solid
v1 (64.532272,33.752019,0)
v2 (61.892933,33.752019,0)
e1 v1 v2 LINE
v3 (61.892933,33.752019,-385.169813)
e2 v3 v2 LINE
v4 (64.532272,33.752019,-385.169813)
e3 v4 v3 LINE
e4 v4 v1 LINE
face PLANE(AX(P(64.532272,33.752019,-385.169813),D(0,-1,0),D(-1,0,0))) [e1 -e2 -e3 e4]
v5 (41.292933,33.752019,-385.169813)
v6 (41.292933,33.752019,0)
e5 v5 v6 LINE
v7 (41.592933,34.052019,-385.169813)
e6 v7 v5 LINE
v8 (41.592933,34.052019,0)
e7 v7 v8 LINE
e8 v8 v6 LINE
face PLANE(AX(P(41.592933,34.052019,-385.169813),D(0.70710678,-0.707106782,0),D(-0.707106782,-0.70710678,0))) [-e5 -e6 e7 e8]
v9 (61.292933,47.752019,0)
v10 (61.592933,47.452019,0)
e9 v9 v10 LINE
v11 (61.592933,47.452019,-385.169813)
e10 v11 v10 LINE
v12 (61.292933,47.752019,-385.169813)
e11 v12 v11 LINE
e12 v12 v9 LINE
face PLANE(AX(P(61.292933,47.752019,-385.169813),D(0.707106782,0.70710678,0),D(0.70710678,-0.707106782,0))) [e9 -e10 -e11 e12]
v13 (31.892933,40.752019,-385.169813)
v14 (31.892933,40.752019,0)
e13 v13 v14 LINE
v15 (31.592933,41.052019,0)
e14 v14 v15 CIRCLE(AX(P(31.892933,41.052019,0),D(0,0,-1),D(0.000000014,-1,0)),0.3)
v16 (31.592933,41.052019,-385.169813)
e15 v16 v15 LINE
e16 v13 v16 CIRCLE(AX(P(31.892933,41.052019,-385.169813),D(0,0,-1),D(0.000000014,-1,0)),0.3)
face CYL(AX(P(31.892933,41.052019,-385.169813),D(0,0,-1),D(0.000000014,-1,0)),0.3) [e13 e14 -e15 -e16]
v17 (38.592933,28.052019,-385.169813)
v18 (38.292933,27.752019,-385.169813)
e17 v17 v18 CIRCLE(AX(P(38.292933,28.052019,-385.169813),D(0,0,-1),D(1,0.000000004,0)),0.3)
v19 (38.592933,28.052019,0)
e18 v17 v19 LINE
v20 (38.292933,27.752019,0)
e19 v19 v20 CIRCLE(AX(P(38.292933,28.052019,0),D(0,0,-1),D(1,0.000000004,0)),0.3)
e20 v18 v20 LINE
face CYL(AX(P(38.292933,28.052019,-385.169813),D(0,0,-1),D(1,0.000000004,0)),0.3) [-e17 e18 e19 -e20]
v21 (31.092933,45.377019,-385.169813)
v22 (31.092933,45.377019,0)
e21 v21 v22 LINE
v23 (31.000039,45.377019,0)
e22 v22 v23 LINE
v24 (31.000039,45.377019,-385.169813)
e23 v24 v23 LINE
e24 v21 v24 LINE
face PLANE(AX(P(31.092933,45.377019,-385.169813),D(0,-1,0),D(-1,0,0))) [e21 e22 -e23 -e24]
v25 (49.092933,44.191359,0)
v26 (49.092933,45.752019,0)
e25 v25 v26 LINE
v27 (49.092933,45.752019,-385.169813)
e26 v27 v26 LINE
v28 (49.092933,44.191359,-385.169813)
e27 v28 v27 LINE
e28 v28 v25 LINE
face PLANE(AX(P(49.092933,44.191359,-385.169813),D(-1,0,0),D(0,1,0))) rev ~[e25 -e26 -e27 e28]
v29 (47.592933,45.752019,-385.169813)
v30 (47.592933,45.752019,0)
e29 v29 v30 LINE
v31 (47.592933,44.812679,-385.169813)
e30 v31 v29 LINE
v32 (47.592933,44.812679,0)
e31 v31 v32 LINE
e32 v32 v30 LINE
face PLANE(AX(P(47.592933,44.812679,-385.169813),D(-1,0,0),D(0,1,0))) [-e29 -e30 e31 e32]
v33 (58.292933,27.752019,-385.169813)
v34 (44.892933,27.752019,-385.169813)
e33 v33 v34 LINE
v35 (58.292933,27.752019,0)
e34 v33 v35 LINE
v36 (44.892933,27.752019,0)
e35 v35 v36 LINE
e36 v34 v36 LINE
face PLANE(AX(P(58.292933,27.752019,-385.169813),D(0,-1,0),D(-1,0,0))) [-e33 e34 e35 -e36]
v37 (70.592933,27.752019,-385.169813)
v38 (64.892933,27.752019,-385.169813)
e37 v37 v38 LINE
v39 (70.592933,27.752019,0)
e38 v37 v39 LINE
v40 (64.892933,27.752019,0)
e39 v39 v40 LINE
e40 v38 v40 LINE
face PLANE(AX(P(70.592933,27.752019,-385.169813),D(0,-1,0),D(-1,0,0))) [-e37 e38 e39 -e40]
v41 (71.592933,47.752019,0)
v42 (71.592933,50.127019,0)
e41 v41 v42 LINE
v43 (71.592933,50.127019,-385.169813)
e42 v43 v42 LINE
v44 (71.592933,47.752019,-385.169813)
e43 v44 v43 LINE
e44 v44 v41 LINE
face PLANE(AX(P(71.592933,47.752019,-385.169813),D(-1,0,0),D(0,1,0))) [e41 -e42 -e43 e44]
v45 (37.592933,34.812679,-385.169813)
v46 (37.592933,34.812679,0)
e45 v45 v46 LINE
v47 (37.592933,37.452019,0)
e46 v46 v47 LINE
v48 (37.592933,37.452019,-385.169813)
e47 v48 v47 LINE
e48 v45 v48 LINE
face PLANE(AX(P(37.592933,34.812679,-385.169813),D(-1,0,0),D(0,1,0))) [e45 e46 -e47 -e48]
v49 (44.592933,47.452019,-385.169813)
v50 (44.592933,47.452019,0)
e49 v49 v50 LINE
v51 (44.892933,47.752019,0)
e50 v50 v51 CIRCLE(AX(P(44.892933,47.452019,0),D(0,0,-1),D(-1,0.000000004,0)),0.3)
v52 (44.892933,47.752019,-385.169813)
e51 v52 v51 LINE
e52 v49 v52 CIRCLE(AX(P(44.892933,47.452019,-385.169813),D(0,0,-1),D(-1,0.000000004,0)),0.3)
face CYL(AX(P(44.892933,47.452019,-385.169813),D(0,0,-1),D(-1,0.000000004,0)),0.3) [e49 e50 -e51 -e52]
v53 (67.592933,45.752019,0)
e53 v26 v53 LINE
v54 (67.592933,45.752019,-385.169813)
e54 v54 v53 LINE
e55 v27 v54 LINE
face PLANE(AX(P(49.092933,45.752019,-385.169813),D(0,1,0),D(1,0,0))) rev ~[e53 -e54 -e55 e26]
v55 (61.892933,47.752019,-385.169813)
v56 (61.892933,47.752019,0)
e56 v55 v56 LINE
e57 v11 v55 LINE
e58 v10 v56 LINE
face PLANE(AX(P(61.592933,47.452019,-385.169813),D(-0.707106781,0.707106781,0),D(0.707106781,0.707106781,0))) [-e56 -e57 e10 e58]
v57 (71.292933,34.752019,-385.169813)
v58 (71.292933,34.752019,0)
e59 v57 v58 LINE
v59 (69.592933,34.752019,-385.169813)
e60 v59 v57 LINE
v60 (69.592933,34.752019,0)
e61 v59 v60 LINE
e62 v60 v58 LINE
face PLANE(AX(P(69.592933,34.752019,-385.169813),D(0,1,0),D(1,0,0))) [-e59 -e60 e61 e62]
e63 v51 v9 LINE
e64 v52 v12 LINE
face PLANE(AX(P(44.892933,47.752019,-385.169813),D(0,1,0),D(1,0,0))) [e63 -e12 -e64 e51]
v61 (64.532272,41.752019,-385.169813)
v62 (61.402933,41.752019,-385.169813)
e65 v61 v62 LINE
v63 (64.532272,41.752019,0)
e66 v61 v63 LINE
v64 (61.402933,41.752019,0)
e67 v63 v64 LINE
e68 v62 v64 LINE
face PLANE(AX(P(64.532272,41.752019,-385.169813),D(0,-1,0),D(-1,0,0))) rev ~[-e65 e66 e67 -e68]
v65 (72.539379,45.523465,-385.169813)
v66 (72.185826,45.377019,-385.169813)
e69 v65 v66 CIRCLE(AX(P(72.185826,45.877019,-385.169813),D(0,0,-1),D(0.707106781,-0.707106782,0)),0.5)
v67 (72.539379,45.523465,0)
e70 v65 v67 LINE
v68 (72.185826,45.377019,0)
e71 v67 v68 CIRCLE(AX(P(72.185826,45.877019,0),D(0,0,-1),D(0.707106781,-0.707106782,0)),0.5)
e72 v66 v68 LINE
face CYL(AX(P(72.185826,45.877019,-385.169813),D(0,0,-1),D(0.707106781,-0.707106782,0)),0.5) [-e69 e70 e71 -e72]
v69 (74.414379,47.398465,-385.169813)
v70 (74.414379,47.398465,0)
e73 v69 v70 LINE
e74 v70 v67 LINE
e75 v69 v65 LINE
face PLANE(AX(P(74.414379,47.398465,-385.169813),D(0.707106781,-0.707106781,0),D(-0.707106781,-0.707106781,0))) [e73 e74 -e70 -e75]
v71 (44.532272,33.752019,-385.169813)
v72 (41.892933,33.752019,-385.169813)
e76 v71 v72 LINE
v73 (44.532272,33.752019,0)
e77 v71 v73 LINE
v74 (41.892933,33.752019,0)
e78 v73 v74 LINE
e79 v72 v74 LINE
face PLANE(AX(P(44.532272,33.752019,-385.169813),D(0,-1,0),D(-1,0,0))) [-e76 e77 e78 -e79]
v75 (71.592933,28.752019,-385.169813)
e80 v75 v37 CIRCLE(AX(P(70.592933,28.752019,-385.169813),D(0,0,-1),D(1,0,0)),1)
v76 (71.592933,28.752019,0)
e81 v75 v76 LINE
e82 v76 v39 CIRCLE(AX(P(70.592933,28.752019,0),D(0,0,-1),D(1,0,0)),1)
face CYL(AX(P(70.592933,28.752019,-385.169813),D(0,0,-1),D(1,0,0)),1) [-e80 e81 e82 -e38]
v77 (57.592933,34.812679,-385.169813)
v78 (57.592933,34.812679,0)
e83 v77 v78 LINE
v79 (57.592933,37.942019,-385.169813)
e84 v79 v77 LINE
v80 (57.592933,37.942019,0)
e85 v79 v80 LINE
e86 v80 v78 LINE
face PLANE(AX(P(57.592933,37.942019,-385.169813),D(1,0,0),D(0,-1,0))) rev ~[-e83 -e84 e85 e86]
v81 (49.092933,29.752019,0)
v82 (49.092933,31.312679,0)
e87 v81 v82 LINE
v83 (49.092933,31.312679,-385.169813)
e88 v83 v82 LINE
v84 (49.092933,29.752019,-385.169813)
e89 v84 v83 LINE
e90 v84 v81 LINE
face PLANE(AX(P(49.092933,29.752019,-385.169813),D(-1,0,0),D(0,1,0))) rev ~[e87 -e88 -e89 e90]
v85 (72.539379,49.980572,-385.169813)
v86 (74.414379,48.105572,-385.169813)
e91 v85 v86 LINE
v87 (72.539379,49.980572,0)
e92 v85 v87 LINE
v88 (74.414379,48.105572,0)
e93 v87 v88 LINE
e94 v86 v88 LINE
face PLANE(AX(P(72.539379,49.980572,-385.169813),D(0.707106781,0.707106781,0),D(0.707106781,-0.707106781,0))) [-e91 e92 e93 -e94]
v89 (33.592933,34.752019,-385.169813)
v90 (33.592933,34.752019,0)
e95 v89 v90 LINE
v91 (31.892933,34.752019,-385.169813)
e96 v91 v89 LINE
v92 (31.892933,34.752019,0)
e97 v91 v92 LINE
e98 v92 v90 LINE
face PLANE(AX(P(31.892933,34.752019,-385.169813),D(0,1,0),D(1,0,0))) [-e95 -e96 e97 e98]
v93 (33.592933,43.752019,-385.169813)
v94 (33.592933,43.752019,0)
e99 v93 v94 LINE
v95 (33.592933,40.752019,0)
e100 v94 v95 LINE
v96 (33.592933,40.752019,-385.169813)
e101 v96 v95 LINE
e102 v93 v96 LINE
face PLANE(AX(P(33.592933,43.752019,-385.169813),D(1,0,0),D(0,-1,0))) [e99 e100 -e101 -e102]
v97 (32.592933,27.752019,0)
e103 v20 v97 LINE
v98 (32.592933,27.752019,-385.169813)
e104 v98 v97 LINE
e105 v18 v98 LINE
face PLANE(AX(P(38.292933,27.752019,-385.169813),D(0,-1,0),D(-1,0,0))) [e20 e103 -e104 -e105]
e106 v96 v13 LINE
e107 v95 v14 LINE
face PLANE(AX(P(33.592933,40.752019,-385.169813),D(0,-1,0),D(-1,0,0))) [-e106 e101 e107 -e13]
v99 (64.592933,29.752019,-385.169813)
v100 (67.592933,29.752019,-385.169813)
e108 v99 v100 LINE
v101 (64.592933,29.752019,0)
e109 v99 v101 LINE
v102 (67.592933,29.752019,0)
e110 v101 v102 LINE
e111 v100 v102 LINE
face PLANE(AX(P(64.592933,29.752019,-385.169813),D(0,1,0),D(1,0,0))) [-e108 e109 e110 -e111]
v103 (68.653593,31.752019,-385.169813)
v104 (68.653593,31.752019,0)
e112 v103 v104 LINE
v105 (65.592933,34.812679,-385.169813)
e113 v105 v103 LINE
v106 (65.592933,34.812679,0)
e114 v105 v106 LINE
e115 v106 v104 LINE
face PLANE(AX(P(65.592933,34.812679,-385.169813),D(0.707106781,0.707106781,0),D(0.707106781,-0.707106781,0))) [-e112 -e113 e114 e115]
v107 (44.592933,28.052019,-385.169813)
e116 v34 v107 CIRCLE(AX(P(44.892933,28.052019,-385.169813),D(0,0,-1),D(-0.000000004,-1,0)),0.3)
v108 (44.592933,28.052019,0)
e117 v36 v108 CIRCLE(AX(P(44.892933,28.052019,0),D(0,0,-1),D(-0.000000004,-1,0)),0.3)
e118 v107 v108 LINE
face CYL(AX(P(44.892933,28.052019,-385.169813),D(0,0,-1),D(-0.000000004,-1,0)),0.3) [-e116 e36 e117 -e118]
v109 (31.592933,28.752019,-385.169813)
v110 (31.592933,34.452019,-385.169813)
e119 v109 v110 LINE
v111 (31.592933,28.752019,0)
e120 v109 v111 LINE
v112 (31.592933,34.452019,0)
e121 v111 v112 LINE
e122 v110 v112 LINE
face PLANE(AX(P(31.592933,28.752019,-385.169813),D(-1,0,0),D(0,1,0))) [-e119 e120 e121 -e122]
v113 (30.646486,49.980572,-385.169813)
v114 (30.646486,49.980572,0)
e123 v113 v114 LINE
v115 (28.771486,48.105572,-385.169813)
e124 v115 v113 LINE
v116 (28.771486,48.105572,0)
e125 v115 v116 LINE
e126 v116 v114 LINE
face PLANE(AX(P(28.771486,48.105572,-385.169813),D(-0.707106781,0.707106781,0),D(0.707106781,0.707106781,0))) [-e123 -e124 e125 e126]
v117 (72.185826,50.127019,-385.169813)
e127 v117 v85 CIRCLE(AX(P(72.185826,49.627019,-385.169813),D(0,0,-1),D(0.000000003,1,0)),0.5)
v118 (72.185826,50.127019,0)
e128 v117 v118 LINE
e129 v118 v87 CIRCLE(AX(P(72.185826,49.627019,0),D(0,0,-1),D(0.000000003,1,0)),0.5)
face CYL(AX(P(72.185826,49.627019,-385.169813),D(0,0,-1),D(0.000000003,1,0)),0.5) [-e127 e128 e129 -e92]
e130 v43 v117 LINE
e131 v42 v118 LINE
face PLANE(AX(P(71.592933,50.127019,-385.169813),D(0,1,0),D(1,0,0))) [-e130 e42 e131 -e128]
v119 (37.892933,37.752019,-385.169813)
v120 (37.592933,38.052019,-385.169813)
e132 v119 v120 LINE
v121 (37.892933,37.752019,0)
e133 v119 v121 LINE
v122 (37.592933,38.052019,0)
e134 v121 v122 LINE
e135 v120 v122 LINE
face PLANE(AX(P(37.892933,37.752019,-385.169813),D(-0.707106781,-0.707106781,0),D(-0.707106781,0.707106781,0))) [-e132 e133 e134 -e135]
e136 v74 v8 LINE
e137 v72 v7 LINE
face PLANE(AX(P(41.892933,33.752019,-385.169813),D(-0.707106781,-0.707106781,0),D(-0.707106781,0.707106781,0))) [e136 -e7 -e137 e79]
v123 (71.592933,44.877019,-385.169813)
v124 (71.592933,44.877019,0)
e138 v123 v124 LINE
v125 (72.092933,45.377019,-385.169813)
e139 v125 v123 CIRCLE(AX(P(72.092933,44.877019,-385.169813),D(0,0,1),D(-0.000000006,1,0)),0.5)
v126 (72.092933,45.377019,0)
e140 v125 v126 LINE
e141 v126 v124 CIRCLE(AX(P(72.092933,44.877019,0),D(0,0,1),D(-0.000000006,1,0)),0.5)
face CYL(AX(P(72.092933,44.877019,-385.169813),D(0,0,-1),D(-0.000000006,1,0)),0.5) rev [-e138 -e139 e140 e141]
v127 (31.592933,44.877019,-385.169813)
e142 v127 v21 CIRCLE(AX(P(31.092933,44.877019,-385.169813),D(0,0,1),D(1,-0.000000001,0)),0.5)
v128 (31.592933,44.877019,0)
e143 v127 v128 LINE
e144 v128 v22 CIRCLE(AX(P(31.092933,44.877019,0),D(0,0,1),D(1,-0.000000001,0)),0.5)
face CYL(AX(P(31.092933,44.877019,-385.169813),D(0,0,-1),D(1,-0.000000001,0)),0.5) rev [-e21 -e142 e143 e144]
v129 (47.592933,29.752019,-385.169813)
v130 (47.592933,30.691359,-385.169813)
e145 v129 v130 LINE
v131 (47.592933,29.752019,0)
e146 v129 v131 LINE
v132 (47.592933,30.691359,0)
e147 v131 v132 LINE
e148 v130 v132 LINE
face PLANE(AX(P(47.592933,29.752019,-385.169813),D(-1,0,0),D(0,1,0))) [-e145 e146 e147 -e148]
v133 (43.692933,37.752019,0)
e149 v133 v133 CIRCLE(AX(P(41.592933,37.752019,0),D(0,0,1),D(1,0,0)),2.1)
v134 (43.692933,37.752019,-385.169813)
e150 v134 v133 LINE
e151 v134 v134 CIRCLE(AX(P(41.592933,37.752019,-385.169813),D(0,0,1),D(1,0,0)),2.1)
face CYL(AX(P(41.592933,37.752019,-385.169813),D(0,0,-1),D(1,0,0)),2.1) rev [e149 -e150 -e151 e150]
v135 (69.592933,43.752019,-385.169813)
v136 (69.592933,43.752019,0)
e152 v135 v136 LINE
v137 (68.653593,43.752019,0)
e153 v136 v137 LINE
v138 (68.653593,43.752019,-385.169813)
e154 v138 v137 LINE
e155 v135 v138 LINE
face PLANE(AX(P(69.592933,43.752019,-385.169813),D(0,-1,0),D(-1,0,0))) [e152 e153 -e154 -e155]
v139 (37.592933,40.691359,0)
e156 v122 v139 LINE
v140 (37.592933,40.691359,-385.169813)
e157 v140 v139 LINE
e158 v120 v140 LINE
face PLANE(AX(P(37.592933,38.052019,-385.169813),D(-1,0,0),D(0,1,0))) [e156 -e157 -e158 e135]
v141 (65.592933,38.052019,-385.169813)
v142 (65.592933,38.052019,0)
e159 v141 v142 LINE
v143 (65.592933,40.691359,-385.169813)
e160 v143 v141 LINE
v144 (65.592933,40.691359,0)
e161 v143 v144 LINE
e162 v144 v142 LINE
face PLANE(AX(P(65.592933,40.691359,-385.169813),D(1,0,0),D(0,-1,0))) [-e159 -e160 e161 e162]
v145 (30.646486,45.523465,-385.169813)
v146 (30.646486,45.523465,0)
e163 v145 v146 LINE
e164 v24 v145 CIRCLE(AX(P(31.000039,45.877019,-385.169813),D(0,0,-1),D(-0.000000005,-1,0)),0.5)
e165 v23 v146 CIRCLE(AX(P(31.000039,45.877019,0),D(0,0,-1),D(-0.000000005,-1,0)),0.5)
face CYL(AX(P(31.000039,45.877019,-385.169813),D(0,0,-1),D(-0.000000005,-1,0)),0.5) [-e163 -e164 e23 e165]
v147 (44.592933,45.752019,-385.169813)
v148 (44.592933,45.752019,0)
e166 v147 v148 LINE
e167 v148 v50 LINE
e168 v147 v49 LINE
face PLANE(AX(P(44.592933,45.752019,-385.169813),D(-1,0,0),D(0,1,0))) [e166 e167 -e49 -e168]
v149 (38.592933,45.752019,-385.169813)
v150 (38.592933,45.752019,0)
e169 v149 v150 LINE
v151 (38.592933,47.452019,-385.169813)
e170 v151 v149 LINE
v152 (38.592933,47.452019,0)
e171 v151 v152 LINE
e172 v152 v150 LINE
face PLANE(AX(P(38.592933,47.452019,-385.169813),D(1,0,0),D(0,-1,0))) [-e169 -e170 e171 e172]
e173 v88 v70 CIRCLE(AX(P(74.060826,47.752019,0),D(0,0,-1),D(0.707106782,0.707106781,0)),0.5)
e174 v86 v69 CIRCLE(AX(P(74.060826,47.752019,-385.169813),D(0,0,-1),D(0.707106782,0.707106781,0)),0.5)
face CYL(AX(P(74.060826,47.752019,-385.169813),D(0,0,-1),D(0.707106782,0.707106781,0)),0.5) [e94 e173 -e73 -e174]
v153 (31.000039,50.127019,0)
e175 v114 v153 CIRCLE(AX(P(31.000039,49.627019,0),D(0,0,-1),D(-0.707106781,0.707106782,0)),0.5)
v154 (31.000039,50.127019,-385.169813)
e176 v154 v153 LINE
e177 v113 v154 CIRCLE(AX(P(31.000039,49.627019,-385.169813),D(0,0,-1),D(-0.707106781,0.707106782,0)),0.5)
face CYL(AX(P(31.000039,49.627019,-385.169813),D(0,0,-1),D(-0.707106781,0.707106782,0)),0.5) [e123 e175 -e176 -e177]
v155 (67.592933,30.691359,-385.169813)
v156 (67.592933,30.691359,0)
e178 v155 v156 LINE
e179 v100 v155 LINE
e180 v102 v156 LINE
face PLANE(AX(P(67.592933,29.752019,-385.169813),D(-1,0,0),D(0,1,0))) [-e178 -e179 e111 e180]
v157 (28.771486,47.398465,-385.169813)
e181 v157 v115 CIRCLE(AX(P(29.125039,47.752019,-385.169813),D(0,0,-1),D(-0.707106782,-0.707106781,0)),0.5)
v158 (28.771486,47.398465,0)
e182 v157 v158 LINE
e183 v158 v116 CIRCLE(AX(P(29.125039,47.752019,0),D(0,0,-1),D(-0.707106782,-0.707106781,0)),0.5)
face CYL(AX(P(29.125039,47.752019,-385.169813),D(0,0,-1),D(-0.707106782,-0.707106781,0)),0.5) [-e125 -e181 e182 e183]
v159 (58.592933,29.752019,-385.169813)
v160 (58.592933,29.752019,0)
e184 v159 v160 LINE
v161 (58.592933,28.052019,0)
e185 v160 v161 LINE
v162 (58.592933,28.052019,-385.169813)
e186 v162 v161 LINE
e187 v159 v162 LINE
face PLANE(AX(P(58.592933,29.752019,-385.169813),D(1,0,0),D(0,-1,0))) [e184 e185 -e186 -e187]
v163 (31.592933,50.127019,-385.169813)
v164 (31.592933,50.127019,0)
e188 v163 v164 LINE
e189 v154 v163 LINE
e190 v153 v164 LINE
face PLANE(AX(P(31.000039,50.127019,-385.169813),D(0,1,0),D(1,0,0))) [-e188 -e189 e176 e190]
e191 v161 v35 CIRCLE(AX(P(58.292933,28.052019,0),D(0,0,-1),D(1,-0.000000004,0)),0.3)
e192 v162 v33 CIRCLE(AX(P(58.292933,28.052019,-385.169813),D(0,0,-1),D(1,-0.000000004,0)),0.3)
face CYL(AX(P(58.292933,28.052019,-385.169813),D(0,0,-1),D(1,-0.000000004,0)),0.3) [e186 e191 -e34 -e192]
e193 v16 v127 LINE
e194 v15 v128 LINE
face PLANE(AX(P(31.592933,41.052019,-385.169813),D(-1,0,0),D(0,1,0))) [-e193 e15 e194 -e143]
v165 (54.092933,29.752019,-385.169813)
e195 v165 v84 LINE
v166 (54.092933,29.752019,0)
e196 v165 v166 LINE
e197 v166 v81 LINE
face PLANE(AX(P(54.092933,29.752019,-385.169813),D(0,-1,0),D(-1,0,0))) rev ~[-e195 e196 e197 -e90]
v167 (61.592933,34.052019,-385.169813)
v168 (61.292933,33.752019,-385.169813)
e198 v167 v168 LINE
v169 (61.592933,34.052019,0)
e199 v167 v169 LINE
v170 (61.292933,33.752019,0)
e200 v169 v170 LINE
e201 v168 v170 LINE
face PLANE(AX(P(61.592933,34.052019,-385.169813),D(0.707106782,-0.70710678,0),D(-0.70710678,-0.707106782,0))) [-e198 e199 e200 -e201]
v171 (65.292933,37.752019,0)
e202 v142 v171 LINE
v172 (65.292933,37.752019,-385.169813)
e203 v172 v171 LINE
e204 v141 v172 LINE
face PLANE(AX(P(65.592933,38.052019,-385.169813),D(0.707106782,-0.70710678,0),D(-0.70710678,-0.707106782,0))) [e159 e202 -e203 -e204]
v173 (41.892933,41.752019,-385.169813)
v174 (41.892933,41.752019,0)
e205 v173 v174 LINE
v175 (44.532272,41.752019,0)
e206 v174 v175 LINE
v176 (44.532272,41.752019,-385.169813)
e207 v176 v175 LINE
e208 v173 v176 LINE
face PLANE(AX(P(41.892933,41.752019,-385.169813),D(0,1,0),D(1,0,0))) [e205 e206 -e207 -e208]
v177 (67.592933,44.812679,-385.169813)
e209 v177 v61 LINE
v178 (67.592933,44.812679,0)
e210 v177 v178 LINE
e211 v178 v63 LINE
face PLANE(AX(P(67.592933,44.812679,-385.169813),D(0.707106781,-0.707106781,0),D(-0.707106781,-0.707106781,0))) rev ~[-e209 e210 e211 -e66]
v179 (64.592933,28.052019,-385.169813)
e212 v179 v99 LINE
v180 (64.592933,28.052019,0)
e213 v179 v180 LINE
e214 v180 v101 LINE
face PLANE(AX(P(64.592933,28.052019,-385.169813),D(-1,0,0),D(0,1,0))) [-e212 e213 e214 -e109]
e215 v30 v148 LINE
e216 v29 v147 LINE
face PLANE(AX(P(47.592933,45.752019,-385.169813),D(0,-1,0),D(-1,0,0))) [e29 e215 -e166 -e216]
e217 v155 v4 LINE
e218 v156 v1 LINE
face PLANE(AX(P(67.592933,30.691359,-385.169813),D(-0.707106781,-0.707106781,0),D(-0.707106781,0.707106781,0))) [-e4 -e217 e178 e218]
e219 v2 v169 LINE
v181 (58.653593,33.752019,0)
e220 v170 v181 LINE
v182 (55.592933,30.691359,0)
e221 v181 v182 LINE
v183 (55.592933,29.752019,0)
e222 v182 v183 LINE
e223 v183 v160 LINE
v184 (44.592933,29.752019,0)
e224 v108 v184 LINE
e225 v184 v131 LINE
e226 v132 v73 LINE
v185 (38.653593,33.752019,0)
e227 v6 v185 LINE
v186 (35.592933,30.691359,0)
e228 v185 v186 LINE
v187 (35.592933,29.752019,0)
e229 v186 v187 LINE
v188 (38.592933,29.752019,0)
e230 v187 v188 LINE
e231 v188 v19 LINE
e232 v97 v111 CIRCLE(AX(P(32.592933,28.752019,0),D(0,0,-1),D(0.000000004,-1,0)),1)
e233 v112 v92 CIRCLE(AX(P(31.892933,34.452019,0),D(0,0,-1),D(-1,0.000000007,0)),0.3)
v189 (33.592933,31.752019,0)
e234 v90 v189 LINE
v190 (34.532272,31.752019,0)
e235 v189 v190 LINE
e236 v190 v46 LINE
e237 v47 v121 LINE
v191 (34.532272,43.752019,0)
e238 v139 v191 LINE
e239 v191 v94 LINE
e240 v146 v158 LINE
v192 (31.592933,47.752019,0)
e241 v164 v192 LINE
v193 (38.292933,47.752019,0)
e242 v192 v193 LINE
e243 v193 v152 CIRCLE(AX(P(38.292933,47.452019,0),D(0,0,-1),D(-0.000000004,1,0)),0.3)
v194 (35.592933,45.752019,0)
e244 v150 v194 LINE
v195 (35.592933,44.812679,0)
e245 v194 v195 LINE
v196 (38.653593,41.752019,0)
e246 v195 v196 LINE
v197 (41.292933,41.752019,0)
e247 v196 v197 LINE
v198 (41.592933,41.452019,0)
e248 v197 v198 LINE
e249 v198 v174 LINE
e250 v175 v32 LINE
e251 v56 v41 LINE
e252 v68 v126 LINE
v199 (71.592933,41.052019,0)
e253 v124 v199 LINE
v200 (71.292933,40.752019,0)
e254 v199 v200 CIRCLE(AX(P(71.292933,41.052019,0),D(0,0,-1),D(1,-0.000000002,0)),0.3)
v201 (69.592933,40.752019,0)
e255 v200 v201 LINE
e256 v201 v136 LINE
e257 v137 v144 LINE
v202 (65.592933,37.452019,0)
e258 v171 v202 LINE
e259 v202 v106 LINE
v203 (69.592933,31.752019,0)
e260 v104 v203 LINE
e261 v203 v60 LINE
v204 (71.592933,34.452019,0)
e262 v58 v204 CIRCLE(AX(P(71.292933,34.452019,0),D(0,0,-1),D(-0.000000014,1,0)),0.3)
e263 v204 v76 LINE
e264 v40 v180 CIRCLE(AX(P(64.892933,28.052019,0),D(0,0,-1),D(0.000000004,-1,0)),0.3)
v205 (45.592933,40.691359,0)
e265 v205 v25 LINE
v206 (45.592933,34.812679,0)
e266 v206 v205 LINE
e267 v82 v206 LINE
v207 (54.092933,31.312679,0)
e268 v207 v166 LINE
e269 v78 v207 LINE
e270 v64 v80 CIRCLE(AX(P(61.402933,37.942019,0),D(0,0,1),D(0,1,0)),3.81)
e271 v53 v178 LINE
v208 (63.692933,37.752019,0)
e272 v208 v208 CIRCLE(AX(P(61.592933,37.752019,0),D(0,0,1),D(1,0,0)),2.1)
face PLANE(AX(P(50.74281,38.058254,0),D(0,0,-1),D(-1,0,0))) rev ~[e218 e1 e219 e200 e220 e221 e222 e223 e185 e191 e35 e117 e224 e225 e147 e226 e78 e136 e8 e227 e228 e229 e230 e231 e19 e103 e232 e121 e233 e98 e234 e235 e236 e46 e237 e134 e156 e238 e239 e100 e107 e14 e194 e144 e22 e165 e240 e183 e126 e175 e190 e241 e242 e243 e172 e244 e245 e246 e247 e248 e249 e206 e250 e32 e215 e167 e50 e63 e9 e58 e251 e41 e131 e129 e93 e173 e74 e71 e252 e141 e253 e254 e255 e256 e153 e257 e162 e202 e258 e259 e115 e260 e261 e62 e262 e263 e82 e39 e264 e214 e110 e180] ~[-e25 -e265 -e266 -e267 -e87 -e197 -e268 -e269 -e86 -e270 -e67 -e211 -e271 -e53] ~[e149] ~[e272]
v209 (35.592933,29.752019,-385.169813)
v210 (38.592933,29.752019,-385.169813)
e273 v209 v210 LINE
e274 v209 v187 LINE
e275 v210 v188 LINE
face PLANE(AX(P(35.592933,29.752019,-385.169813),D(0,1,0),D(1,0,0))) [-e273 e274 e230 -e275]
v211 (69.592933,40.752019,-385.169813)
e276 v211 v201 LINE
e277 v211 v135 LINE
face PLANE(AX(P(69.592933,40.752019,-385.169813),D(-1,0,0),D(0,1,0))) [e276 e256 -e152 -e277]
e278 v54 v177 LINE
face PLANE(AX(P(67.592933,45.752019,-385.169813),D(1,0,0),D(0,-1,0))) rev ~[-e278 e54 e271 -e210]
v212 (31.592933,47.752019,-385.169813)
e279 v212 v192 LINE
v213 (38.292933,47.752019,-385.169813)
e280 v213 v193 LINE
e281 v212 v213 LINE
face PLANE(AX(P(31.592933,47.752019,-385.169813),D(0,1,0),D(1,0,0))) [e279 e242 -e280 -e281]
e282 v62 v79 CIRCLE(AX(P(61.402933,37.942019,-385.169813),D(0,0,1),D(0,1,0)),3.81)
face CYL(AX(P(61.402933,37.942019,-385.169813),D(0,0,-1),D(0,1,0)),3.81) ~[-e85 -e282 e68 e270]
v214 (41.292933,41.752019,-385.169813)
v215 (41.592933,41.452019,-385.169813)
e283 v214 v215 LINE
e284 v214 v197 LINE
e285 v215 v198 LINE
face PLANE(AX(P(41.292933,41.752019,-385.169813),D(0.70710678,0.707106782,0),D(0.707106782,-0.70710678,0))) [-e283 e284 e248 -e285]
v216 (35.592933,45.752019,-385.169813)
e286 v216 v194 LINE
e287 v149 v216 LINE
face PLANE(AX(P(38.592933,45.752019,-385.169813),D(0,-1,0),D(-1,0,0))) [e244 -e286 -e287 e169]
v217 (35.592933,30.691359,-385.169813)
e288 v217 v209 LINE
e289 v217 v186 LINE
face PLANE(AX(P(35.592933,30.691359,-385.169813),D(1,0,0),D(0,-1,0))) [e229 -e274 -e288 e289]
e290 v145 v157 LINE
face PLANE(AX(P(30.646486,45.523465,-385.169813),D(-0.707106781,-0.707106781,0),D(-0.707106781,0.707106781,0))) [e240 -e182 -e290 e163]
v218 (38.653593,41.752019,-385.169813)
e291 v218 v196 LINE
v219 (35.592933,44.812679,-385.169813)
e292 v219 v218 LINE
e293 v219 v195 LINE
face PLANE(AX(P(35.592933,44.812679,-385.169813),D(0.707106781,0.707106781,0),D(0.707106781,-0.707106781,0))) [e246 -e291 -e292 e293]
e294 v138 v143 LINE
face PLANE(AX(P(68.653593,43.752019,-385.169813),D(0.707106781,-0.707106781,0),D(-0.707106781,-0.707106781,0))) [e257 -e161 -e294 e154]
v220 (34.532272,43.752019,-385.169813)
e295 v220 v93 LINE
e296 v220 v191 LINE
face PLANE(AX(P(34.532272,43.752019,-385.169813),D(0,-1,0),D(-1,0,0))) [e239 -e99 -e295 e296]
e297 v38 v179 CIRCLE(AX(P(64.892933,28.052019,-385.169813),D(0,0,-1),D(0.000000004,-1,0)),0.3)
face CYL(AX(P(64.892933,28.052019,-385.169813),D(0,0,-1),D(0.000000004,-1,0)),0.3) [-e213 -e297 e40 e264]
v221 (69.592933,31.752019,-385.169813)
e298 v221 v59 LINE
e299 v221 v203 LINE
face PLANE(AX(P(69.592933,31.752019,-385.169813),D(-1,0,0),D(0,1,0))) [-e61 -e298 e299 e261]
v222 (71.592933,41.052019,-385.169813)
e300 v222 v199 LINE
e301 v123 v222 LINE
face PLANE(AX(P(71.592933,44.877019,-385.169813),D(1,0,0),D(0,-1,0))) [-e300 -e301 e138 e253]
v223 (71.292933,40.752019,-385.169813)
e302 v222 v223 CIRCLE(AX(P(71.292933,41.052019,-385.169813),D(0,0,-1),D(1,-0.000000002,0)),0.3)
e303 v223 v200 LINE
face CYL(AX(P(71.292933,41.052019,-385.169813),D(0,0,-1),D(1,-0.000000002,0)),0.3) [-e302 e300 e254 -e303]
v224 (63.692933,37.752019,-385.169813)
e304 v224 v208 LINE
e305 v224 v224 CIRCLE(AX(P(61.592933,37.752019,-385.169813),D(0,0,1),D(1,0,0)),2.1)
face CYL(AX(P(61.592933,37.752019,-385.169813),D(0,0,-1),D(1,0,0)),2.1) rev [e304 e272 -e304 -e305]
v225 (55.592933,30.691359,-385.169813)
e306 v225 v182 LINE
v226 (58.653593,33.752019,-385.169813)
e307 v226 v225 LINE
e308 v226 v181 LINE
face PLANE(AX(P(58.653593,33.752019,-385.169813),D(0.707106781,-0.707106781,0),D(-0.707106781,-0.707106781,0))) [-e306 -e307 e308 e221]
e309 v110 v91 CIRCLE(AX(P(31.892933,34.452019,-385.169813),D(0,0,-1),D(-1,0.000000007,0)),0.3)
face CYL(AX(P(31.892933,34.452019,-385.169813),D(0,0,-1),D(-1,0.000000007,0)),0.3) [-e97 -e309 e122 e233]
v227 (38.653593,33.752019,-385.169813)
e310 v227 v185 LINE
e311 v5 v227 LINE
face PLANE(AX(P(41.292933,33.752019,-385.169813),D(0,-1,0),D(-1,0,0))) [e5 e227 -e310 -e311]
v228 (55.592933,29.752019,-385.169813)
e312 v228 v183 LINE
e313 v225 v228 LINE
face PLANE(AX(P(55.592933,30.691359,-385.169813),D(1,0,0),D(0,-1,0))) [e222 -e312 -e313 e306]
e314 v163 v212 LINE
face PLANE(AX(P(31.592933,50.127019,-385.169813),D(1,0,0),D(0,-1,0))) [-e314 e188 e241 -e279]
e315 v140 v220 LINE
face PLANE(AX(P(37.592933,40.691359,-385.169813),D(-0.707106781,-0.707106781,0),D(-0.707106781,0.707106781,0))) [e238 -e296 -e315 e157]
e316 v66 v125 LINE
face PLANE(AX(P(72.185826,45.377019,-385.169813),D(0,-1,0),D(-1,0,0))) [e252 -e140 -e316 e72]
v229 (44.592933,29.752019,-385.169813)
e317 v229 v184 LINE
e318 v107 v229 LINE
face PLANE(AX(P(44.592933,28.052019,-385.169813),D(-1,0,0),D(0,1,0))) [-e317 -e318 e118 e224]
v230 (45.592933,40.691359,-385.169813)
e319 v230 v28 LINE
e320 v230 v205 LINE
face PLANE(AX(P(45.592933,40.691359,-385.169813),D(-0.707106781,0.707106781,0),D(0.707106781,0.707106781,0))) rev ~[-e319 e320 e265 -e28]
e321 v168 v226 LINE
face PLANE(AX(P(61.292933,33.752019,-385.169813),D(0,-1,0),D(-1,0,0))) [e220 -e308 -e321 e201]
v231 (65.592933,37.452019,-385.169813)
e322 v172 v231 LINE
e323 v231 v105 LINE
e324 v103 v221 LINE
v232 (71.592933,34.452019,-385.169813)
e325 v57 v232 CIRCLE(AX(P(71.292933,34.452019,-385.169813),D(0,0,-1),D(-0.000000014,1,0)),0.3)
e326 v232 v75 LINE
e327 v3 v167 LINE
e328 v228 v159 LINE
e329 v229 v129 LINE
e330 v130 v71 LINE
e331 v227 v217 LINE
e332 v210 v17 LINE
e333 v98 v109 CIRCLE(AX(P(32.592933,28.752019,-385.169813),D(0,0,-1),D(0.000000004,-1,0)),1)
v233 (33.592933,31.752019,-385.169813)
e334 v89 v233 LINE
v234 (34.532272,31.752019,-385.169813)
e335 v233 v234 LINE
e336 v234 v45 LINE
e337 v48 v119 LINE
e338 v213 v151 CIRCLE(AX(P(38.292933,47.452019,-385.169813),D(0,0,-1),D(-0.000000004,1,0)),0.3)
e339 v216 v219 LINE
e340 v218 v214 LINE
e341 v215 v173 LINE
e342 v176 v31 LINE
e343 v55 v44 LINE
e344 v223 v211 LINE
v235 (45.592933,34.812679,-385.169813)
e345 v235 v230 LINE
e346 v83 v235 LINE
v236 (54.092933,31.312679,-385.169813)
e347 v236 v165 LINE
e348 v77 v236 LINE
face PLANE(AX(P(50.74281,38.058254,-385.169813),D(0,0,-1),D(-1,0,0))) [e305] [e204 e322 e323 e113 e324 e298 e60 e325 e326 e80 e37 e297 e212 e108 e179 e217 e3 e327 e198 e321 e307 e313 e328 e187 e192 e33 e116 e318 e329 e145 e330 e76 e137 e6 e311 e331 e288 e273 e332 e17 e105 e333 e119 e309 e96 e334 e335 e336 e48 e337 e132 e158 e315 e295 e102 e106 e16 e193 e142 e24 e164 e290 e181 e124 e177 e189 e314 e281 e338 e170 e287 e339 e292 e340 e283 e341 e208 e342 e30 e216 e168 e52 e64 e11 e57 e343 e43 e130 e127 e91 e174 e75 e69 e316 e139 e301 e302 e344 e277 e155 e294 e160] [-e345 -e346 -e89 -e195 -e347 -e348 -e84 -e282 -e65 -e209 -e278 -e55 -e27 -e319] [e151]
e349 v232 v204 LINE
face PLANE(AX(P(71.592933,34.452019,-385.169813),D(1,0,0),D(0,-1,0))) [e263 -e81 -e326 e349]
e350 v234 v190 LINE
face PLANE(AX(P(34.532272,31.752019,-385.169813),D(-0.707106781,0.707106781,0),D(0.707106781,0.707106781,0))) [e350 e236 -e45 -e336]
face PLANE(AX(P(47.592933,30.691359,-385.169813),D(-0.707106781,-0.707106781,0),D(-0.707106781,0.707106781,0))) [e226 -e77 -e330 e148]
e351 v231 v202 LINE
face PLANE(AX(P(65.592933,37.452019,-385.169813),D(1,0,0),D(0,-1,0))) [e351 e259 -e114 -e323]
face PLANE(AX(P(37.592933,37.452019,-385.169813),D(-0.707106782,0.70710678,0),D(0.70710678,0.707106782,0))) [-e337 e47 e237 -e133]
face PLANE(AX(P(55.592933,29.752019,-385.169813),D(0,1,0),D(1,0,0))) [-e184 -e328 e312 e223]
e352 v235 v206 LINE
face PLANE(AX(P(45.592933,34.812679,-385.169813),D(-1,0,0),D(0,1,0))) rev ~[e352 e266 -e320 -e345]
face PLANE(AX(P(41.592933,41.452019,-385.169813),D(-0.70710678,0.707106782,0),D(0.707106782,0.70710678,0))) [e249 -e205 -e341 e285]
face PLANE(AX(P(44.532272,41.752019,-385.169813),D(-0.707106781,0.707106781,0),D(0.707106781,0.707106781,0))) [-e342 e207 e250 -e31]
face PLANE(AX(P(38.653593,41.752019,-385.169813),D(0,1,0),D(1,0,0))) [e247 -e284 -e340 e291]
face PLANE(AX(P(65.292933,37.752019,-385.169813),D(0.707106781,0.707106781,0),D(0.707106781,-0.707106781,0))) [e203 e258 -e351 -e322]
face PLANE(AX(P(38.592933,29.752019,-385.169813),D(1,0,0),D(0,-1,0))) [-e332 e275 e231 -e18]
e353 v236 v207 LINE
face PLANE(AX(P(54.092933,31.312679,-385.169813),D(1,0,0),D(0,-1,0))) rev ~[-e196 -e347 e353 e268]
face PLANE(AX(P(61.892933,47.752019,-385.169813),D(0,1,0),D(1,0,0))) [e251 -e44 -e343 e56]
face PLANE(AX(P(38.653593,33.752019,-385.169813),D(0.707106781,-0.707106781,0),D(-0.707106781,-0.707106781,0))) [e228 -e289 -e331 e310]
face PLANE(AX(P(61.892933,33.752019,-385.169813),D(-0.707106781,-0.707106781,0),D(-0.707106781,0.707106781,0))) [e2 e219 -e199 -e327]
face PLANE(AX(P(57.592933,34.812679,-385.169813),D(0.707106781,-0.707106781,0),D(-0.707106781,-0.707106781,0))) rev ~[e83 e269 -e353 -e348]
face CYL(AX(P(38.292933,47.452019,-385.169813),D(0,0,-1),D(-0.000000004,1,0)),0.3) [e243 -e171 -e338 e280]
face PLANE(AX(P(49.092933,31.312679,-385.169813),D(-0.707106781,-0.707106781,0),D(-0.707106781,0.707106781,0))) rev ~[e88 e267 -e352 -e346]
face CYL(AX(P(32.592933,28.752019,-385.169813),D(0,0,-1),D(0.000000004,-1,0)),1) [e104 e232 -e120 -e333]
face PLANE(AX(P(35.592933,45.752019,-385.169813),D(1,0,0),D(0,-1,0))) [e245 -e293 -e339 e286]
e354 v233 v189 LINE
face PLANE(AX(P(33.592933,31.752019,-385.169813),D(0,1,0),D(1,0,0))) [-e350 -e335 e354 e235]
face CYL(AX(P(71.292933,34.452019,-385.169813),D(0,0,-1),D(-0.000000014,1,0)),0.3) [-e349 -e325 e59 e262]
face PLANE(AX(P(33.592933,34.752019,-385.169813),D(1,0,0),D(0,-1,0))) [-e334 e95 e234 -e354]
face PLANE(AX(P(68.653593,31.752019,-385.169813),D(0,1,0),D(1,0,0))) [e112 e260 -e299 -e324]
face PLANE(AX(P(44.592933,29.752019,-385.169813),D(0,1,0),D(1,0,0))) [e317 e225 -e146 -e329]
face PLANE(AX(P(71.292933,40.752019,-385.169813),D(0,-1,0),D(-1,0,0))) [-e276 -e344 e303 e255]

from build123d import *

# Parameters (mm, degrees)
BOSS_EXTRUDE1_START = -385.169813
MODEL_R             = 2.100000001
BOSS_EXTRUDE1_DEPTH = 385.169813


with BuildPart() as part:
    # Model → Boss-Extrude1 (new body)
    with BuildSketch(Plane.XY.offset(BOSS_EXTRUDE1_START)):
        with BuildLine():
            Line((28.771485975, 48.105572105), (30.646485975, 49.980572105))
            ThreePointArc((30.646485975, 49.980572105), (30.808697649, 50.08895848), (31.000039365, 50.127018713))
            Line((31.000039365, 50.127018713), (31.592932584, 50.127018713))
            Line((31.592932584, 50.127018713), (31.592932584, 47.752018713))
            Line((31.592932584, 47.752018713), (38.292932585, 47.752018713))
            ThreePointArc((38.292932585, 47.752018713), (38.505064619, 47.664150748), (38.592932584, 47.452018714))
            Line((38.592932584, 47.452018714), (38.592932584, 45.752018713))
            Line((38.592932584, 45.752018713), (35.592932585, 45.752018713))
            Line((35.592932585, 45.752018713), (35.592932585, 44.812678885))
            Line((35.592932585, 44.812678885), (38.653592756, 41.752018713))
            Line((38.653592756, 41.752018713), (41.292932583, 41.752018713))
            Line((41.292932583, 41.752018713), (41.592932584, 41.452018713))
            Line((41.592932584, 41.452018713), (41.892932586, 41.752018714))
            Line((41.892932586, 41.752018714), (44.532272412, 41.752018714))
            Line((44.532272412, 41.752018714), (47.592932584, 44.812678886))
            Line((47.592932584, 44.812678886), (47.592932584, 45.752018714))
            Line((47.592932584, 45.752018714), (44.592932584, 45.752018714))
            Line((44.592932584, 45.752018714), (44.592932584, 47.452018715))
            ThreePointArc((44.592932584, 47.452018715), (44.68080055, 47.664150749), (44.892932584, 47.752018715))
            Line((44.892932584, 47.752018715), (61.292932583, 47.752018715))
            Line((61.292932583, 47.752018715), (61.592932582, 47.452018715))
            Line((61.592932582, 47.452018715), (61.892932583, 47.752018716))
            Line((61.892932583, 47.752018716), (71.592932583, 47.752018716))
            Line((71.592932583, 47.752018716), (71.592932583, 50.127018711))
            Line((71.592932583, 50.127018711), (72.185825802, 50.127018711))
            ThreePointArc((72.185825802, 50.127018711), (72.377167518, 50.088958477), (72.539379192, 49.980572102))
            Line((72.539379192, 49.980572102), (74.414379192, 48.105572102))
            ThreePointArc((74.414379192, 48.105572102), (74.560825801, 47.752018712), (74.414379192, 47.398465322))
            Line((74.414379192, 47.398465322), (72.539379192, 45.523465322))
            ThreePointArc((72.539379192, 45.523465322), (72.377167518, 45.415078947), (72.185825802, 45.377018714))
            Line((72.185825802, 45.377018714), (72.092932582, 45.377018714))
            ThreePointArc((72.092932582, 45.377018714), (71.739379192, 45.230572103), (71.592932583, 44.877018713))
            Line((71.592932583, 44.877018713), (71.592932583, 41.052018712))
            ThreePointArc((71.592932583, 41.052018712), (71.505064617, 40.839886678), (71.292932581, 40.752018713))
            Line((71.292932581, 40.752018713), (69.592932583, 40.752018713))
            Line((69.592932583, 40.752018713), (69.592932583, 43.752018712))
            Line((69.592932583, 43.752018712), (68.653592755, 43.752018712))
            Line((68.653592755, 43.752018712), (65.592932583, 40.691358541))
            Line((65.592932583, 40.691358541), (65.592932583, 38.052018712))
            Line((65.592932583, 38.052018712), (65.292932584, 37.752018712))
            Line((65.292932584, 37.752018712), (65.592932583, 37.452018713))
            Line((65.592932583, 37.452018713), (65.592932583, 34.812678884))
            Line((65.592932583, 34.812678884), (68.653592755, 31.752018712))
            Line((68.653592755, 31.752018712), (69.592932583, 31.752018712))
            Line((69.592932583, 31.752018712), (69.592932583, 34.752018711))
            Line((69.592932583, 34.752018711), (71.292932581, 34.752018711))
            ThreePointArc((71.292932581, 34.752018711), (71.505064617, 34.664150747), (71.592932583, 34.452018712))
            Line((71.592932583, 34.452018712), (71.592932583, 28.75201871))
            ThreePointArc((71.592932583, 28.75201871), (71.300039364, 28.044911929), (70.592932582, 27.752018711))
            Line((70.592932582, 27.752018711), (64.892932582, 27.752018711))
            ThreePointArc((64.892932582, 27.752018711), (64.680800548, 27.839886676), (64.592932583, 28.05201871))
            Line((64.592932583, 28.05201871), (64.592932583, 29.752018711))
            Line((64.592932583, 29.752018711), (67.592932582, 29.752018711))
            Line((67.592932582, 29.752018711), (67.592932582, 30.69135854))
            Line((67.592932582, 30.69135854), (64.532272411, 33.752018711))
            Line((64.532272411, 33.752018711), (61.892932584, 33.752018711))
            Line((61.892932584, 33.752018711), (61.592932582, 34.052018713))
            Line((61.592932582, 34.052018713), (61.292932582, 33.752018712))
            Line((61.292932582, 33.752018712), (58.653592755, 33.752018712))
            Line((58.653592755, 33.752018712), (55.592932583, 30.691358541))
            Line((55.592932583, 30.691358541), (55.592932583, 29.752018713))
            Line((55.592932583, 29.752018713), (58.592932583, 29.752018713))
            Line((58.592932583, 29.752018713), (58.592932583, 28.052018712))
            ThreePointArc((58.592932583, 28.052018712), (58.505064617, 27.839886678), (58.292932583, 27.752018712))
            Line((58.292932583, 27.752018712), (44.892932584, 27.752018712))
            ThreePointArc((44.892932584, 27.752018712), (44.68080055, 27.839886678), (44.592932584, 28.052018712))
            Line((44.592932584, 28.052018712), (44.592932584, 29.752018713))
            Line((44.592932584, 29.752018713), (47.592932584, 29.752018713))
            Line((47.592932584, 29.752018713), (47.592932584, 30.691358541))
            Line((47.592932584, 30.691358541), (44.532272412, 33.752018712))
            Line((44.532272412, 33.752018712), (41.892932586, 33.752018712))
            Line((41.892932586, 33.752018712), (41.592932584, 34.052018714))
            Line((41.592932584, 34.052018714), (41.292932583, 33.752018714))
            Line((41.292932583, 33.752018714), (38.653592756, 33.752018714))
            Line((38.653592756, 33.752018714), (35.592932585, 30.691358542))
            Line((35.592932585, 30.691358542), (35.592932585, 29.752018714))
            Line((35.592932585, 29.752018714), (38.592932584, 29.752018714))
            Line((38.592932584, 29.752018714), (38.592932584, 28.052018713))
            ThreePointArc((38.592932584, 28.052018713), (38.505064619, 27.839886679), (38.292932585, 27.752018714))
            Line((38.292932585, 27.752018714), (32.592932585, 27.752018714))
            ThreePointArc((32.592932585, 27.752018714), (31.885825803, 28.044911931), (31.592932584, 28.752018713))
            Line((31.592932584, 28.752018713), (31.592932584, 34.452018715))
            ThreePointArc((31.592932584, 34.452018715), (31.68080055, 34.664150748), (31.892932583, 34.752018714))
            Line((31.892932583, 34.752018714), (33.592932584, 34.752018714))
            Line((33.592932584, 34.752018714), (33.592932584, 31.752018715))
            Line((33.592932584, 31.752018715), (34.532272412, 31.752018715))
            Line((34.532272412, 31.752018715), (37.592932584, 34.812678886))
            Line((37.592932584, 34.812678886), (37.592932584, 37.452018715))
            Line((37.592932584, 37.452018715), (37.892932583, 37.752018715))
            Line((37.892932583, 37.752018715), (37.592932584, 38.052018714))
            Line((37.592932584, 38.052018714), (37.592932584, 40.691358543))
            Line((37.592932584, 40.691358543), (34.532272412, 43.752018715))
            Line((34.532272412, 43.752018715), (33.592932584, 43.752018715))
            Line((33.592932584, 43.752018715), (33.592932584, 40.752018716))
            Line((33.592932584, 40.752018716), (31.892932586, 40.752018716))
            ThreePointArc((31.892932586, 40.752018716), (31.68080055, 40.83988668), (31.592932584, 41.052018715))
            Line((31.592932584, 41.052018715), (31.592932584, 44.877018715))
            ThreePointArc((31.592932584, 44.877018715), (31.446485975, 45.230572106), (31.092932585, 45.377018716))
            Line((31.092932585, 45.377018716), (31.000039365, 45.377018716))
            ThreePointArc((31.000039365, 45.377018716), (30.808697649, 45.41507895), (30.646485975, 45.523465324))
            Line((30.646485975, 45.523465324), (28.771485975, 47.398465325))
            ThreePointArc((28.771485975, 47.398465325), (28.625039366, 47.752018715), (28.771485975, 48.105572105))
        make_face()
        with Locations((61.592932582, 37.752018715)):
            Circle(MODEL_R, mode=Mode.SUBTRACT)
        with Locations((41.592932582, 37.752018715)):
            Circle(MODEL_R, mode=Mode.SUBTRACT)
        with BuildLine():
            Line((54.092932584, 29.752018715), (49.092932584, 29.752018715))
            Line((49.092932584, 29.752018715), (49.092932584, 31.312678886))
            Line((49.092932584, 31.312678886), (45.592932583, 34.812678886))
            Line((45.592932583, 34.812678886), (45.592932583, 40.691358543))
            Line((45.592932583, 40.691358543), (49.092932584, 44.191358544))
            Line((49.092932584, 44.191358544), (49.092932584, 45.752018714))
            Line((49.092932584, 45.752018714), (67.592932582, 45.752018714))
            Line((67.592932582, 45.752018714), (67.592932582, 44.812678887))
            Line((67.592932582, 44.812678887), (64.532272411, 41.752018716))
            Line((64.532272411, 41.752018716), (61.402932584, 41.752018716))
            ThreePointArc((61.402932584, 41.752018716), (58.708855747, 40.636095552), (57.592932584, 37.942018716))
            Line((57.592932584, 37.942018716), (57.592932584, 34.812678886))
            Line((57.592932584, 34.812678886), (54.092932584, 31.312678886))
            Line((54.092932584, 31.312678886), (54.092932584, 29.752018715))
        make_face(mode=Mode.SUBTRACT)
    extrude(amount=BOSS_EXTRUDE1_DEPTH)


solid = part.part
